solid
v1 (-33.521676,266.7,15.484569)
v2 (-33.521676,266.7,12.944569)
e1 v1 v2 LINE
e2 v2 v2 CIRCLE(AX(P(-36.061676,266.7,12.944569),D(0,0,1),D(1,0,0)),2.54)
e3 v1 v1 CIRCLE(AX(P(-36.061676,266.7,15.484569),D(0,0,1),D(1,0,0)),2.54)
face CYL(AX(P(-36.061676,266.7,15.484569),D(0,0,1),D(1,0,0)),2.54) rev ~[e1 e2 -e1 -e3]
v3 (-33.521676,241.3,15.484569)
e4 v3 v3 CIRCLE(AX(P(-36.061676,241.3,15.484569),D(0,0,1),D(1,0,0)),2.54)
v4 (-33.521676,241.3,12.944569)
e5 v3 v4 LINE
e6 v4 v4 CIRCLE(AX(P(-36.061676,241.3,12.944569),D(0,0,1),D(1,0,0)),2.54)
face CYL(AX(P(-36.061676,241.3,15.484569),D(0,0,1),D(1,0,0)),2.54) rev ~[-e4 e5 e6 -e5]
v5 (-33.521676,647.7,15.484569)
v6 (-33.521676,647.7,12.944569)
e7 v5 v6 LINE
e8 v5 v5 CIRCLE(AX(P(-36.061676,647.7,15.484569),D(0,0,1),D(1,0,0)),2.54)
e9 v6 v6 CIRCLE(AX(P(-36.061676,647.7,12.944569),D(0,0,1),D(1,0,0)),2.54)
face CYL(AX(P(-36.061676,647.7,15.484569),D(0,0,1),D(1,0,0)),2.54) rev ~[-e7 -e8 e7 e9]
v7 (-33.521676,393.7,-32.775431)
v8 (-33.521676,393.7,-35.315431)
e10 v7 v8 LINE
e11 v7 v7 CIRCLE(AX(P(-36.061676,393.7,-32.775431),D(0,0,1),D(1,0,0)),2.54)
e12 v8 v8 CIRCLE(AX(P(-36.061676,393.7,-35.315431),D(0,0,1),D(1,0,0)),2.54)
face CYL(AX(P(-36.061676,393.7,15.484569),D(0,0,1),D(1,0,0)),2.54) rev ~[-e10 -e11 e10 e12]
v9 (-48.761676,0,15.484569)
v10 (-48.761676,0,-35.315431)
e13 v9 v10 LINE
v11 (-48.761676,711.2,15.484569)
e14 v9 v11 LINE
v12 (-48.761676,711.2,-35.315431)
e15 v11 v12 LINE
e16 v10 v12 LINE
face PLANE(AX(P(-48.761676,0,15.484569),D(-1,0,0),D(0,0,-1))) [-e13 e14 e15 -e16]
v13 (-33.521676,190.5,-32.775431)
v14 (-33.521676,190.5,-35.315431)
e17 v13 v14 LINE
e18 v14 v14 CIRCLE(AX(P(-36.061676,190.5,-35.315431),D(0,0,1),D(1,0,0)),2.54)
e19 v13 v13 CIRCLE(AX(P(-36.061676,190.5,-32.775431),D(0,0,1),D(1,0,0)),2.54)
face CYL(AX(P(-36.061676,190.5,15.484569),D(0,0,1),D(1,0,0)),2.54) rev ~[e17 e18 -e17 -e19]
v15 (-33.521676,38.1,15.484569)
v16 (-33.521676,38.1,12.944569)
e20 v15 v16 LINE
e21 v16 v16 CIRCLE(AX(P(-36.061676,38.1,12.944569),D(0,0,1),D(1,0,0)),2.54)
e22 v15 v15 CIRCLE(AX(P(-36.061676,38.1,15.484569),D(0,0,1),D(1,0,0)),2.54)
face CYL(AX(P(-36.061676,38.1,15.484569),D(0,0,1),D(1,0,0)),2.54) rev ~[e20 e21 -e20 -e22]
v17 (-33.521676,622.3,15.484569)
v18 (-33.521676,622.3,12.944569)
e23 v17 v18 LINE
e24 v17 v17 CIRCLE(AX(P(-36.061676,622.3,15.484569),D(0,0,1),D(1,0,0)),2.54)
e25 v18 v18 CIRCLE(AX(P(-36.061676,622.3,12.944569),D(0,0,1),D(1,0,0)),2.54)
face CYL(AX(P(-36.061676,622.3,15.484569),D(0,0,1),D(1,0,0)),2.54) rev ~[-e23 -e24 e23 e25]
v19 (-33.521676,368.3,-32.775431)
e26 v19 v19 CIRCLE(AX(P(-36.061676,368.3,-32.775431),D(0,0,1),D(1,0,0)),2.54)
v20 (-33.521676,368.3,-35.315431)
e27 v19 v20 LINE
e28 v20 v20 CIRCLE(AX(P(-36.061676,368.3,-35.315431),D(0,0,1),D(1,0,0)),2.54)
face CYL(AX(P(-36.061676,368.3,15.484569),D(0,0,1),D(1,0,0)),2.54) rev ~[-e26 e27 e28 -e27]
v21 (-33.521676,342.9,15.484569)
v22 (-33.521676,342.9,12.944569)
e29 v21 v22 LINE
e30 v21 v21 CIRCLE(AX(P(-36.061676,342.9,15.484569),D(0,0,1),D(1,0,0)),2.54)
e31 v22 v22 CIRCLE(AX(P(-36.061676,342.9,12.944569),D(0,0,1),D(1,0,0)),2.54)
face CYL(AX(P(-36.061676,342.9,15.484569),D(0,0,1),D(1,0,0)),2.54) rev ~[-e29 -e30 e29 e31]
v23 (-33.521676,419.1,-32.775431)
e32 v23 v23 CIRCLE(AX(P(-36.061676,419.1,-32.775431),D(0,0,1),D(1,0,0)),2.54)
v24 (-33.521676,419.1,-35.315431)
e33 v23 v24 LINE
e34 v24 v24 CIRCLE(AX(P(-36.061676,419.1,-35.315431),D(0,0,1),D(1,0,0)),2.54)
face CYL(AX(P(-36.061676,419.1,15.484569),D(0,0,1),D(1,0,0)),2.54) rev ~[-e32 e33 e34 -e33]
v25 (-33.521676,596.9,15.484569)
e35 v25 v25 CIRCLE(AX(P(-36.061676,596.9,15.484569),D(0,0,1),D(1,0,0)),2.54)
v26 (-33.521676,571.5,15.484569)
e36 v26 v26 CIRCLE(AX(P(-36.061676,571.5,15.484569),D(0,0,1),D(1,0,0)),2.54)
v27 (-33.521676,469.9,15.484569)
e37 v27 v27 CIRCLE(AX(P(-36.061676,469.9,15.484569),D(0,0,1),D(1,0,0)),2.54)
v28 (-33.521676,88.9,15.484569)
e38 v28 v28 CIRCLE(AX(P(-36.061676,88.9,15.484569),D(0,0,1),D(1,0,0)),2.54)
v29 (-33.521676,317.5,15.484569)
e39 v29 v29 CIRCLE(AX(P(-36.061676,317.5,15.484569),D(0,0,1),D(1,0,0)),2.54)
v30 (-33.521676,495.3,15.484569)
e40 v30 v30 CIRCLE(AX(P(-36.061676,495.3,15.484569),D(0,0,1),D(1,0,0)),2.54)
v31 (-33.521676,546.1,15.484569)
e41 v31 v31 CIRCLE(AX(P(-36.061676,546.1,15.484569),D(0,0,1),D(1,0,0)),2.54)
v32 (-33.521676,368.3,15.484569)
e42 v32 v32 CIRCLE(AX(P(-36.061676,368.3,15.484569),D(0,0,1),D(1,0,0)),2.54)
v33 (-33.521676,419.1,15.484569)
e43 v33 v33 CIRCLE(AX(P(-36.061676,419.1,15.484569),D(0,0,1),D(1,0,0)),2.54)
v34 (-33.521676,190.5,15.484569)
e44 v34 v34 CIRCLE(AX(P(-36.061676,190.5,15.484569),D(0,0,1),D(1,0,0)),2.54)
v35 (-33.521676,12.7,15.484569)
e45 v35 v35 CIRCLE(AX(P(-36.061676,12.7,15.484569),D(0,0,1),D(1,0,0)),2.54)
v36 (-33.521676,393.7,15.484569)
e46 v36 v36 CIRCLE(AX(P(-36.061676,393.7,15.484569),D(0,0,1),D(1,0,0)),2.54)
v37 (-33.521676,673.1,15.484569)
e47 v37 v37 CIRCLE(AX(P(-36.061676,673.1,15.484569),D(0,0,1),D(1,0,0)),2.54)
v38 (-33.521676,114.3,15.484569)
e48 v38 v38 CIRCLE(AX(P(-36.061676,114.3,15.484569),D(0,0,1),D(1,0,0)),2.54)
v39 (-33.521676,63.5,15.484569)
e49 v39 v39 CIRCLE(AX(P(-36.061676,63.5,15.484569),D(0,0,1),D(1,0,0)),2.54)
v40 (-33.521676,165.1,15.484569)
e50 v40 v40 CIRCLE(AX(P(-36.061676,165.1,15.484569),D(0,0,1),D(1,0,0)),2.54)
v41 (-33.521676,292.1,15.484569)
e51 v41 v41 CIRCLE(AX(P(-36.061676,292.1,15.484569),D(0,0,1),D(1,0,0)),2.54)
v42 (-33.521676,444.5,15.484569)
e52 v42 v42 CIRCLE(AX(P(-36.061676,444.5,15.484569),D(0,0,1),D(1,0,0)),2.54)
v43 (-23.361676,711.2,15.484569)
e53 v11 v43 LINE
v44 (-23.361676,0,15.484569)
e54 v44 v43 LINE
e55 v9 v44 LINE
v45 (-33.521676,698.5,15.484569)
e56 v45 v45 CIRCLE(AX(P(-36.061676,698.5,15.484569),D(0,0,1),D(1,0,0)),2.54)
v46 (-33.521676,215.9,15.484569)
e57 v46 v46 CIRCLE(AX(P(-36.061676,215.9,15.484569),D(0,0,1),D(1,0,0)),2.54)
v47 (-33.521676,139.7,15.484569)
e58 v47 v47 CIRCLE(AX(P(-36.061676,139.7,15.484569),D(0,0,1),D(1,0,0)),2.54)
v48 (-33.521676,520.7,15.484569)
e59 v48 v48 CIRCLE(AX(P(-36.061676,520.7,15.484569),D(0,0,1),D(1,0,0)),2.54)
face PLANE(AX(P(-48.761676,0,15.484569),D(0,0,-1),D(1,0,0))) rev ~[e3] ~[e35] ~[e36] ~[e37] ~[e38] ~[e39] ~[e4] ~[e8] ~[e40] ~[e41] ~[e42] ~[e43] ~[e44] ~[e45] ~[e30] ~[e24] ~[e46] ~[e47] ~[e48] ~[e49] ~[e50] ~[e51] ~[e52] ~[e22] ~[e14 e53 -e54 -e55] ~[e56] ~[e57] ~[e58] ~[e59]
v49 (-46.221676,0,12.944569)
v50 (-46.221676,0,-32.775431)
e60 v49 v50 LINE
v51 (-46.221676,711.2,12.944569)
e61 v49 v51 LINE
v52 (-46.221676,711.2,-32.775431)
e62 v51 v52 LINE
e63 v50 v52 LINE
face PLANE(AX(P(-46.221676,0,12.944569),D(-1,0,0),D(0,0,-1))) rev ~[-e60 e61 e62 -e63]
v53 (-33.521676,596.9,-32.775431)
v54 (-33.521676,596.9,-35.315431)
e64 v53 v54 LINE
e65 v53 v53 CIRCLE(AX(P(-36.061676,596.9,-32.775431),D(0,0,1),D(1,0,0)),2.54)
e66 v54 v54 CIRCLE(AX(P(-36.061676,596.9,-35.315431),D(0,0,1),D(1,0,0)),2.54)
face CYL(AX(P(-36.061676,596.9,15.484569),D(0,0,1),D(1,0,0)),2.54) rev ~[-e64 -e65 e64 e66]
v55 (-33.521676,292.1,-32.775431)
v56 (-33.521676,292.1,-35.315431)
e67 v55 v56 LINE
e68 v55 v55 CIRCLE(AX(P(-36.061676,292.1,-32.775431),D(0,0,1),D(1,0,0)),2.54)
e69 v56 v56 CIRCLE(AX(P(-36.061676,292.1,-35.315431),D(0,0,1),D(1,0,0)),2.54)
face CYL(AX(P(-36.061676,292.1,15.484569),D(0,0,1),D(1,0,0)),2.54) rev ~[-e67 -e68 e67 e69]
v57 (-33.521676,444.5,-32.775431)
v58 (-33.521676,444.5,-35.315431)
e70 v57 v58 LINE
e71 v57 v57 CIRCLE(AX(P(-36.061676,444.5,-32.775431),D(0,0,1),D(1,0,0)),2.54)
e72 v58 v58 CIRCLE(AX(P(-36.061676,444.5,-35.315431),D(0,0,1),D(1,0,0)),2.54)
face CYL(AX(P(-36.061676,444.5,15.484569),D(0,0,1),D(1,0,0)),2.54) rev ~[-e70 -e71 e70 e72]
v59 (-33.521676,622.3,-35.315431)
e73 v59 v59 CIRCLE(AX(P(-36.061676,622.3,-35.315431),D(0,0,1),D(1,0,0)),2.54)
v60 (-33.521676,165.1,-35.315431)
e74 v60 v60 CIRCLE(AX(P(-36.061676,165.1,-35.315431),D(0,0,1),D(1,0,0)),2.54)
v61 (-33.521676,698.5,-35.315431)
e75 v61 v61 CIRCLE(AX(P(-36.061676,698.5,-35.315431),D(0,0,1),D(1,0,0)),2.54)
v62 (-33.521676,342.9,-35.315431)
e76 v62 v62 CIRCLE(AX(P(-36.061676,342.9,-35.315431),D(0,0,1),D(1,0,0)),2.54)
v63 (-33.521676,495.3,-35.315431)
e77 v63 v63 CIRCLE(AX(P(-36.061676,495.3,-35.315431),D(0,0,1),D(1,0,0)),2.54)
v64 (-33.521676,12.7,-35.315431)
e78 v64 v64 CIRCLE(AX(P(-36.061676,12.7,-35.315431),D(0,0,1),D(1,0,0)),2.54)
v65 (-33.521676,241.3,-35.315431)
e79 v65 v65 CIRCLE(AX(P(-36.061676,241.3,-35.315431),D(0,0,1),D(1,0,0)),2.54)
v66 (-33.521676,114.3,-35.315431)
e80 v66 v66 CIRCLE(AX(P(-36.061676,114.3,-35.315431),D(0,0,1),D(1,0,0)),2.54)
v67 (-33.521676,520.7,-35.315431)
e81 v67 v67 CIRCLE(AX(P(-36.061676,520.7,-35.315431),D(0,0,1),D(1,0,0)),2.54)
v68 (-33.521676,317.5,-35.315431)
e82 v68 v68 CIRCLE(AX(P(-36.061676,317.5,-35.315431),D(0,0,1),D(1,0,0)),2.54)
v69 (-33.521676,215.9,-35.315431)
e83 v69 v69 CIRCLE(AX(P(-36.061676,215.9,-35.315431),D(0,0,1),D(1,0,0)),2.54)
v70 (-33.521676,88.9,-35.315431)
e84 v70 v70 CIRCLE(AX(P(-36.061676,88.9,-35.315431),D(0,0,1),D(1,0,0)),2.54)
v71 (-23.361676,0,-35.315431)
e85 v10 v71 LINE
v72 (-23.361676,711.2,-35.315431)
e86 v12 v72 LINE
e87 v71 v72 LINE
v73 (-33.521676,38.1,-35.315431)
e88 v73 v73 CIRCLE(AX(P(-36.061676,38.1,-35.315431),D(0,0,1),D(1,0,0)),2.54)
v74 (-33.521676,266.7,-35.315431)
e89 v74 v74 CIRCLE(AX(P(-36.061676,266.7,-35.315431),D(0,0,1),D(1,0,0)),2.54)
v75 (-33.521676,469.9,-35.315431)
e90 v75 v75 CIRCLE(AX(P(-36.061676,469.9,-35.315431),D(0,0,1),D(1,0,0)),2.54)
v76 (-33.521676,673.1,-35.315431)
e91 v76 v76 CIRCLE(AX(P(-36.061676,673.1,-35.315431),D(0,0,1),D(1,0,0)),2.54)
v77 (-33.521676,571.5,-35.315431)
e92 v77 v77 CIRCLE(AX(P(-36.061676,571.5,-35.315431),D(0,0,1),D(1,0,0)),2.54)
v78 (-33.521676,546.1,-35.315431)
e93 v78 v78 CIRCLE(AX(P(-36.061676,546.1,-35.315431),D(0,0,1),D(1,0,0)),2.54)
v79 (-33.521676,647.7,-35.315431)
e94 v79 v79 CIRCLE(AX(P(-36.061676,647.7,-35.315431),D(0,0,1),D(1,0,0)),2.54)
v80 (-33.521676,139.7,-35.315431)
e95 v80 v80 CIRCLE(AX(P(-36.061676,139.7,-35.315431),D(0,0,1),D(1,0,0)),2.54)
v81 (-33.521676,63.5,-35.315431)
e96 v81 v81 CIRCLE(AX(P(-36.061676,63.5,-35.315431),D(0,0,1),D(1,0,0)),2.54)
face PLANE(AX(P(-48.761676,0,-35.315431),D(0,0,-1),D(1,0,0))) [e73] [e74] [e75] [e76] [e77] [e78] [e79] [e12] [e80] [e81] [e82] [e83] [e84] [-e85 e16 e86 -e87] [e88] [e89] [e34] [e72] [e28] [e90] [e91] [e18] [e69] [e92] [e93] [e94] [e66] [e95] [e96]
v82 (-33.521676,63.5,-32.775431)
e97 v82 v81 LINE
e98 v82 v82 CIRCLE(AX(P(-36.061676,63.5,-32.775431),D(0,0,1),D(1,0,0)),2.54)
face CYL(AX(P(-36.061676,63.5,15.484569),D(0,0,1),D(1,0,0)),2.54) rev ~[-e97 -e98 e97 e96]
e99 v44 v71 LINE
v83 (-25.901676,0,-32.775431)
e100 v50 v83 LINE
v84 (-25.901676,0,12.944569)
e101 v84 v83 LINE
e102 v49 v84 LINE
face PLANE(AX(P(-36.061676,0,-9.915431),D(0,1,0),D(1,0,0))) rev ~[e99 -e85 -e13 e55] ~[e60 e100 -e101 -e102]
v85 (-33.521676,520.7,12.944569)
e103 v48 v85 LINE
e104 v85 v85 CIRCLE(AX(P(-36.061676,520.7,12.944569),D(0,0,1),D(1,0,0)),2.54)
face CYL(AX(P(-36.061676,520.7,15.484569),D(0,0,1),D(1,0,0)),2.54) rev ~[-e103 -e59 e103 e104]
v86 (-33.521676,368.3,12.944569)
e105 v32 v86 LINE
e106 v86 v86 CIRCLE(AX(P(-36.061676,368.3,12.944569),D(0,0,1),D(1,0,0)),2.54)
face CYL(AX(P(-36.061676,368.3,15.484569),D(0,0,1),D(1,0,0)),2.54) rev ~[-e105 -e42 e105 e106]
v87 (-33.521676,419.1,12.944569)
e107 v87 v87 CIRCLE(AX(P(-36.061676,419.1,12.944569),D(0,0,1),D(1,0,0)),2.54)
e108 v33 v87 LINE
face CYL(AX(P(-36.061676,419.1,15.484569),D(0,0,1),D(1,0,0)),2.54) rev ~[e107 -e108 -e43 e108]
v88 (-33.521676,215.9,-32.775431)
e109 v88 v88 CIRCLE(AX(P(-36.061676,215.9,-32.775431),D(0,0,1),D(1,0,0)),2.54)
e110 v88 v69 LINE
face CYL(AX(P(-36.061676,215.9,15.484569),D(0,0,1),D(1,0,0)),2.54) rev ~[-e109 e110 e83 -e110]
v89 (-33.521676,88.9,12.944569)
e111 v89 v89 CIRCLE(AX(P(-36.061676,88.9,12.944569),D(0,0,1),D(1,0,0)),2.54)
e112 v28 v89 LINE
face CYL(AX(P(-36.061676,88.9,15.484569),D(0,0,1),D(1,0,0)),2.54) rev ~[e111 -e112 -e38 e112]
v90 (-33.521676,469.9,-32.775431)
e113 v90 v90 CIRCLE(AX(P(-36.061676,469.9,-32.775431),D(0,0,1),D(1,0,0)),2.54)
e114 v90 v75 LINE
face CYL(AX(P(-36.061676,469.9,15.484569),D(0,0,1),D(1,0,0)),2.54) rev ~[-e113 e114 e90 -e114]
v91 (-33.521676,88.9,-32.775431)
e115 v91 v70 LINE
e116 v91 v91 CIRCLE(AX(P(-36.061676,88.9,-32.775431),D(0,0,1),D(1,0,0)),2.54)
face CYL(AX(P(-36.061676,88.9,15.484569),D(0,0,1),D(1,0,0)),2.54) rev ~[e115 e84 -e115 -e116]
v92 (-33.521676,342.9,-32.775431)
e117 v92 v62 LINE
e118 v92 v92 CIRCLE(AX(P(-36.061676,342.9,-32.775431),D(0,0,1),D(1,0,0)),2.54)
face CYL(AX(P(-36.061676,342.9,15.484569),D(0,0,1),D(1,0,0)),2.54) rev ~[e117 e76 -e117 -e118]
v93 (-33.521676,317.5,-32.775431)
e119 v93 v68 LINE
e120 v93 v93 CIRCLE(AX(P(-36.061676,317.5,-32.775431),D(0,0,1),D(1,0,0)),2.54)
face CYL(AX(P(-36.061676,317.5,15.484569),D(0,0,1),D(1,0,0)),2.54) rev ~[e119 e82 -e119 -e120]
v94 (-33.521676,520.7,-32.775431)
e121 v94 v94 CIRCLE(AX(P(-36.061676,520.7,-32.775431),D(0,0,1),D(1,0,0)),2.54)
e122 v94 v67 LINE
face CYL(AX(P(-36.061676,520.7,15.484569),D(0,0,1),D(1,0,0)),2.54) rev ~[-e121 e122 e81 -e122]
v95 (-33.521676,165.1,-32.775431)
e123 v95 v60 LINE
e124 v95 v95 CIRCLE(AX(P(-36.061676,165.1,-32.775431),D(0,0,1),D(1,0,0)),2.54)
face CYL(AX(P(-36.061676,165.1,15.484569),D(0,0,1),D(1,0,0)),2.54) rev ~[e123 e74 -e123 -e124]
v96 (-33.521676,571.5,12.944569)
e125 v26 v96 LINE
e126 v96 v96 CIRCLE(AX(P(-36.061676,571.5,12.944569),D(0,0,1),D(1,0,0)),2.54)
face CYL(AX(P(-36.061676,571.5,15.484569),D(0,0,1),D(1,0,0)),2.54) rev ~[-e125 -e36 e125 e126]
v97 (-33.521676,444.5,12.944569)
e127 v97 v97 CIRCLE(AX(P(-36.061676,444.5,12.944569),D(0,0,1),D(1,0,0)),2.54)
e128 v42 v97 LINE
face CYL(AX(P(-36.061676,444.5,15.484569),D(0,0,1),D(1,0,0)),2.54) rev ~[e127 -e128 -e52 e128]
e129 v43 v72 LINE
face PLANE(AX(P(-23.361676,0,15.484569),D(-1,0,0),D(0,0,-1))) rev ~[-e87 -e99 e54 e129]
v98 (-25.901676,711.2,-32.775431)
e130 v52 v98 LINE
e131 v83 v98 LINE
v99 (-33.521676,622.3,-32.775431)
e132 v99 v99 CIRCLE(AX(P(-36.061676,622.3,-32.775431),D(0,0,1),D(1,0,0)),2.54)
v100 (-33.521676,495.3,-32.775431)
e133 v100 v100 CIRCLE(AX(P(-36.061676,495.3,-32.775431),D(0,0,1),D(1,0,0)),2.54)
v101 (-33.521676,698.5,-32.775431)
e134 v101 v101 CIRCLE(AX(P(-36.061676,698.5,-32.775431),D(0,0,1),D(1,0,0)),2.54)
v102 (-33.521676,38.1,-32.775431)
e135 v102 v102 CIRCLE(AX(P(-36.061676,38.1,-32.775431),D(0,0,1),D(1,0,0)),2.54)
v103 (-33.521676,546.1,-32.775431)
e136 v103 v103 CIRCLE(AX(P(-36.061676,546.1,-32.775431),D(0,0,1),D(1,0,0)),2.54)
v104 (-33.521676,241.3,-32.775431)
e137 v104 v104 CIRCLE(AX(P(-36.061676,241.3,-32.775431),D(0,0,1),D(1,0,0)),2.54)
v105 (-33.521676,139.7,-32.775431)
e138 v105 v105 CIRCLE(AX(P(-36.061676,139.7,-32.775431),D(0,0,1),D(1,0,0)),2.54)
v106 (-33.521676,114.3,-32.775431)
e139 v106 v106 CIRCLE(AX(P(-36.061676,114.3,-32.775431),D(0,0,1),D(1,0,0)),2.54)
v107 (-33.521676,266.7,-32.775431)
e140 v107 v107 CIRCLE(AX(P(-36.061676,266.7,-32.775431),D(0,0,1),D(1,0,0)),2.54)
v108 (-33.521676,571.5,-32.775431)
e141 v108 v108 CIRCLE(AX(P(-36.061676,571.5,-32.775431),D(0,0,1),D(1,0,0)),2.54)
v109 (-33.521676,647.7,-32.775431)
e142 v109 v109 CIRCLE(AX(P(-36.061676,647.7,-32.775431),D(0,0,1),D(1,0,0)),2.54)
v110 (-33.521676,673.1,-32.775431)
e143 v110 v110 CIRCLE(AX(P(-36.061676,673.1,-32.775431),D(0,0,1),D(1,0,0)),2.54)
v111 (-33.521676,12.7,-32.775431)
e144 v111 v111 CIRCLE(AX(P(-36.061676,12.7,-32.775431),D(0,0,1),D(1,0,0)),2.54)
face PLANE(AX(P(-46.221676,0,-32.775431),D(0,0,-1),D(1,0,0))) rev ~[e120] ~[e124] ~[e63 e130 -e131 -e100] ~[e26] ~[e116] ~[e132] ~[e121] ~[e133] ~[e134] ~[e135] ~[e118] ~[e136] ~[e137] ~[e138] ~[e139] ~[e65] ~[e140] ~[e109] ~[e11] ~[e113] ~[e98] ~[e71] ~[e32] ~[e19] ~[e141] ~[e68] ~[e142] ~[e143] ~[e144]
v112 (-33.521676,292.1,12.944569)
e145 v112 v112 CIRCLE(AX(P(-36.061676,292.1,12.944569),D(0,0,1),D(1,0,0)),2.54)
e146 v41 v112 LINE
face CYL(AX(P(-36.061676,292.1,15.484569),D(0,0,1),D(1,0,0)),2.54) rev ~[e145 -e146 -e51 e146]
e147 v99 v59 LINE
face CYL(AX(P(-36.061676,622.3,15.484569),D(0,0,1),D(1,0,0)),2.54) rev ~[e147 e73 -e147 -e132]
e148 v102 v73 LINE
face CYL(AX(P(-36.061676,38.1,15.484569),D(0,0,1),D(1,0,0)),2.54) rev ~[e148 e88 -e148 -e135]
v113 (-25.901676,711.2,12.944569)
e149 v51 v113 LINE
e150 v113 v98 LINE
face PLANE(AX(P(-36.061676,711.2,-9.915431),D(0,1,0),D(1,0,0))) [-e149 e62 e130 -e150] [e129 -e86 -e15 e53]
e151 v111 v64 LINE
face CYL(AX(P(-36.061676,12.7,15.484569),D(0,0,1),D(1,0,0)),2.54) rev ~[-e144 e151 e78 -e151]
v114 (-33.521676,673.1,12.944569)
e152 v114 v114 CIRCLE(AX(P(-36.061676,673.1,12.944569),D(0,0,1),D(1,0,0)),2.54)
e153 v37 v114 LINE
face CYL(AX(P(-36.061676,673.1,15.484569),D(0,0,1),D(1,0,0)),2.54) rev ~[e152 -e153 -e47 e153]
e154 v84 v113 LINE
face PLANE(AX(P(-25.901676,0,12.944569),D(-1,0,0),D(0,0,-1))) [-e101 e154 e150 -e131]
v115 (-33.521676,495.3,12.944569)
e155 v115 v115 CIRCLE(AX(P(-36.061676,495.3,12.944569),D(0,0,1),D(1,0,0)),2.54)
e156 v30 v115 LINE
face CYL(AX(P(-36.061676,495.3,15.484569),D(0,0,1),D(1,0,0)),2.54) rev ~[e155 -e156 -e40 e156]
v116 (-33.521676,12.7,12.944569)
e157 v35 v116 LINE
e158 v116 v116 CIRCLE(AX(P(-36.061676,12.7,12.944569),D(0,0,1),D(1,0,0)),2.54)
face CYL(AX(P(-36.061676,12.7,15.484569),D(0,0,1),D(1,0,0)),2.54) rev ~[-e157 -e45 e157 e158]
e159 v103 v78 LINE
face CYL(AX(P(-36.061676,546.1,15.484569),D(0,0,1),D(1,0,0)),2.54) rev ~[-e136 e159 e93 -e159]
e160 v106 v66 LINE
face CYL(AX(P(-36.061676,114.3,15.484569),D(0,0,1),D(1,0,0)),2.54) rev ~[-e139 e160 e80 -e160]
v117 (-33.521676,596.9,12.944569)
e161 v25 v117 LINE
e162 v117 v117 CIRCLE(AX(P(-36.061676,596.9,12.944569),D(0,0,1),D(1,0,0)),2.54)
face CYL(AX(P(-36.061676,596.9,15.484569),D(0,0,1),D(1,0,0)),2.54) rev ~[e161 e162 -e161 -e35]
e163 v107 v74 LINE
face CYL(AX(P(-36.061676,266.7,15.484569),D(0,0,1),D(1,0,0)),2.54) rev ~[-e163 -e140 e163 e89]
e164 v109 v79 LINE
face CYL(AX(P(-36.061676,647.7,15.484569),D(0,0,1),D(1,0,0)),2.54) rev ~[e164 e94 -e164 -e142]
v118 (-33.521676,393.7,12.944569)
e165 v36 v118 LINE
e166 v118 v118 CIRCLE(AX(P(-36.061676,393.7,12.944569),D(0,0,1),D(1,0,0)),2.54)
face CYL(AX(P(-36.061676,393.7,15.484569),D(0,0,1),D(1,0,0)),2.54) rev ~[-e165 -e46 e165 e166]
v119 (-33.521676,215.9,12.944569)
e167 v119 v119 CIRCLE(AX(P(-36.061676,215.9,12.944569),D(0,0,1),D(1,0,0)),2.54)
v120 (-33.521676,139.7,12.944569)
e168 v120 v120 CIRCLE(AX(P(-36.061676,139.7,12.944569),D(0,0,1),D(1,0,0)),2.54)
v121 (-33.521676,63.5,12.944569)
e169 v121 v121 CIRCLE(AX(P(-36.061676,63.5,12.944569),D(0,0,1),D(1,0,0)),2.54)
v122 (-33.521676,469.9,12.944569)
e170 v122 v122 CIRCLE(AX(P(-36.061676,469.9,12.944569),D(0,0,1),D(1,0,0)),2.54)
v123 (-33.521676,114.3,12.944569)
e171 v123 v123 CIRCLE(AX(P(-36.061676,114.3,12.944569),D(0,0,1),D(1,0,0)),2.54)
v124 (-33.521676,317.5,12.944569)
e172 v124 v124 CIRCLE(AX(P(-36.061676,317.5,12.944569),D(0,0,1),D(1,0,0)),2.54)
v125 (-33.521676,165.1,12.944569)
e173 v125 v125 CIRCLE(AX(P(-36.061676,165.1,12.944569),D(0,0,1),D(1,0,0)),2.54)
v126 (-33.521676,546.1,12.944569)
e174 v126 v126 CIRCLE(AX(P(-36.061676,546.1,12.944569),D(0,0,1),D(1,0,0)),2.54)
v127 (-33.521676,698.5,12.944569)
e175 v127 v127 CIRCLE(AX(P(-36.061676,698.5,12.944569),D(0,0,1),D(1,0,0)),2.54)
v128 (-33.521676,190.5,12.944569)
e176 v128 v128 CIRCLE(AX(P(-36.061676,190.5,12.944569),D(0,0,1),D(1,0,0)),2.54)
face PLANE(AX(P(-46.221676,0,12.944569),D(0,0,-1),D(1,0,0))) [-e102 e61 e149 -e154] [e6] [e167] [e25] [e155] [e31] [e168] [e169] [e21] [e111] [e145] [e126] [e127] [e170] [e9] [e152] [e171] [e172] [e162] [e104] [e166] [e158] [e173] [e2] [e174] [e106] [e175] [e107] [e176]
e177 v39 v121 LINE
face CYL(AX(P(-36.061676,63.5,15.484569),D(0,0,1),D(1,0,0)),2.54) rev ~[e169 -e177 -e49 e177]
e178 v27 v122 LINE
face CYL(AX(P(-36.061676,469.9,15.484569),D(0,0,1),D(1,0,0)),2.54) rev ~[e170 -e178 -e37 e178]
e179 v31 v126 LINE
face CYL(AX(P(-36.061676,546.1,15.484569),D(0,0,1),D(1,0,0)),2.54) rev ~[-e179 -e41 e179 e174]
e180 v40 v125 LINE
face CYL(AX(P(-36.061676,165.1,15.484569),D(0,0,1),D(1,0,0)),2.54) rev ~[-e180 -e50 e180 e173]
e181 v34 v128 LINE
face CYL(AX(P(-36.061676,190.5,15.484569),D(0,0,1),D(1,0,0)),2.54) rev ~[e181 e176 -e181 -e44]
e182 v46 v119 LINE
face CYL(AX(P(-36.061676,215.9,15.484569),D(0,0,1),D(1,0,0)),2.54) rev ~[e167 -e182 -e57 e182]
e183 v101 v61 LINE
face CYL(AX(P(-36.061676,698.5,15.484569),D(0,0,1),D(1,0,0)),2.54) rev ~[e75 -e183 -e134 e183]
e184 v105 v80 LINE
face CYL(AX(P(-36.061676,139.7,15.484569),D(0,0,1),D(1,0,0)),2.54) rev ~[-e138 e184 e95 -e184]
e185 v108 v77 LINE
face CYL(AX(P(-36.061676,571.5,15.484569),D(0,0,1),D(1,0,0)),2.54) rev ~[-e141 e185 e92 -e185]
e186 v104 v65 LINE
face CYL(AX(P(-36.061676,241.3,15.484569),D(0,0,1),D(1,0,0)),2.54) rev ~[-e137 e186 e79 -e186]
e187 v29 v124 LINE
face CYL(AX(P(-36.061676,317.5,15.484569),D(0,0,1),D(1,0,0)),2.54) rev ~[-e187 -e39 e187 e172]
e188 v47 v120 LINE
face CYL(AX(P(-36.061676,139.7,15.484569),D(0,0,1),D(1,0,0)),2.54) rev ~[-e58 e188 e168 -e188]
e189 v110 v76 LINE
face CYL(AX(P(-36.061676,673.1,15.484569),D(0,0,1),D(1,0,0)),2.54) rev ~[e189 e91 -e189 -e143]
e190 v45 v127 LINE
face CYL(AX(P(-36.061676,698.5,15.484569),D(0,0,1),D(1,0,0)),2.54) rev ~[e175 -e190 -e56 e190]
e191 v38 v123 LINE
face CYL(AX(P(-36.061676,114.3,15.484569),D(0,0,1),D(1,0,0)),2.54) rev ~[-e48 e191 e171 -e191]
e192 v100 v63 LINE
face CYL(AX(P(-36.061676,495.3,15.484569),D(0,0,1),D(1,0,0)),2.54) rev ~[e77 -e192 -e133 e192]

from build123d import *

# Parameters (mm, degrees)
SKETCH1_W               = 25.4
SKETCH1_H               = 50.8
SKETCH1_W_2             = 20.32
SKETCH1_H_2             = 45.72
BOSS_EXTRUDE2_DEPTH     = 711.2
SKETCH3_R               = 2.54
CUT_EXTRUDE1_DEPTH      = 1
CUT_EXTRUDE1_DEPTH_BACK = 51.8


with BuildPart() as part:
    # Sketch1 → Boss-Extrude2 (new body)
    with BuildSketch(Plane(origin=(0, 0, 0), x_dir=(1, 0, 0), z_dir=(0, 1, 0))):
        with Locations((-36.061676357, 9.915431316)):
            Rectangle(SKETCH1_W, SKETCH1_H)
        with Locations((-36.061676357, 9.915431316)):
            Rectangle(SKETCH1_W_2, SKETCH1_H_2, mode=Mode.SUBTRACT)
    extrude(amount=BOSS_EXTRUDE2_DEPTH)

    # Sketch3 → Cut-Extrude1 (cut, two sides)
    with BuildSketch(Plane.XY.offset(15.484568684)) as cut_extrude1_sk:
        with Locations((-36.061676357, 12.7)):
            Circle(SKETCH3_R)
        with Locations((-36.061676357, 38.1)):
            Circle(SKETCH3_R)
        with Locations((-36.061676357, 63.5)):
            Circle(SKETCH3_R)
        with Locations((-36.061676357, 88.9)):
            Circle(SKETCH3_R)
        with Locations((-36.061676357, 114.3)):
            Circle(SKETCH3_R)
        with Locations((-36.061676357, 139.7)):
            Circle(SKETCH3_R)
        with Locations((-36.061676357, 165.1)):
            Circle(SKETCH3_R)
        with Locations((-36.061676357, 190.5)):
            Circle(SKETCH3_R)
        with Locations((-36.061676357, 215.9)):
            Circle(SKETCH3_R)
        with Locations((-36.061676357, 241.3)):
            Circle(SKETCH3_R)
        with Locations((-36.061676357, 266.7)):
            Circle(SKETCH3_R)
        with Locations((-36.061676357, 292.1)):
            Circle(SKETCH3_R)
        with Locations((-36.061676357, 317.5)):
            Circle(SKETCH3_R)
        with Locations((-36.061676357, 342.9)):
            Circle(SKETCH3_R)
        with Locations((-36.061676357, 368.3)):
            Circle(SKETCH3_R)
        with Locations((-36.061676357, 393.7)):
            Circle(SKETCH3_R)
        with Locations((-36.061676357, 419.1)):
            Circle(SKETCH3_R)
        with Locations((-36.061676357, 444.5)):
            Circle(SKETCH3_R)
        with Locations((-36.061676357, 469.9)):
            Circle(SKETCH3_R)
        with Locations((-36.061676357, 495.3)):
            Circle(SKETCH3_R)
        with Locations((-36.061676357, 520.7)):
            Circle(SKETCH3_R)
        with Locations((-36.061676357, 546.1)):
            Circle(SKETCH3_R)
        with Locations((-36.061676357, 571.5)):
            Circle(SKETCH3_R)
        with Locations((-36.061676357, 596.9)):
            Circle(SKETCH3_R)
        with Locations((-36.061676357, 622.3)):
            Circle(SKETCH3_R)
        with Locations((-36.061676357, 647.7)):
            Circle(SKETCH3_R)
        with Locations((-36.061676357, 673.1)):
            Circle(SKETCH3_R)
        with Locations((-36.061676357, 698.5)):
            Circle(SKETCH3_R)
    extrude(amount=CUT_EXTRUDE1_DEPTH, mode=Mode.SUBTRACT)
    extrude(cut_extrude1_sk.sketch, amount=-CUT_EXTRUDE1_DEPTH_BACK, mode=Mode.SUBTRACT)


solid = part.part
